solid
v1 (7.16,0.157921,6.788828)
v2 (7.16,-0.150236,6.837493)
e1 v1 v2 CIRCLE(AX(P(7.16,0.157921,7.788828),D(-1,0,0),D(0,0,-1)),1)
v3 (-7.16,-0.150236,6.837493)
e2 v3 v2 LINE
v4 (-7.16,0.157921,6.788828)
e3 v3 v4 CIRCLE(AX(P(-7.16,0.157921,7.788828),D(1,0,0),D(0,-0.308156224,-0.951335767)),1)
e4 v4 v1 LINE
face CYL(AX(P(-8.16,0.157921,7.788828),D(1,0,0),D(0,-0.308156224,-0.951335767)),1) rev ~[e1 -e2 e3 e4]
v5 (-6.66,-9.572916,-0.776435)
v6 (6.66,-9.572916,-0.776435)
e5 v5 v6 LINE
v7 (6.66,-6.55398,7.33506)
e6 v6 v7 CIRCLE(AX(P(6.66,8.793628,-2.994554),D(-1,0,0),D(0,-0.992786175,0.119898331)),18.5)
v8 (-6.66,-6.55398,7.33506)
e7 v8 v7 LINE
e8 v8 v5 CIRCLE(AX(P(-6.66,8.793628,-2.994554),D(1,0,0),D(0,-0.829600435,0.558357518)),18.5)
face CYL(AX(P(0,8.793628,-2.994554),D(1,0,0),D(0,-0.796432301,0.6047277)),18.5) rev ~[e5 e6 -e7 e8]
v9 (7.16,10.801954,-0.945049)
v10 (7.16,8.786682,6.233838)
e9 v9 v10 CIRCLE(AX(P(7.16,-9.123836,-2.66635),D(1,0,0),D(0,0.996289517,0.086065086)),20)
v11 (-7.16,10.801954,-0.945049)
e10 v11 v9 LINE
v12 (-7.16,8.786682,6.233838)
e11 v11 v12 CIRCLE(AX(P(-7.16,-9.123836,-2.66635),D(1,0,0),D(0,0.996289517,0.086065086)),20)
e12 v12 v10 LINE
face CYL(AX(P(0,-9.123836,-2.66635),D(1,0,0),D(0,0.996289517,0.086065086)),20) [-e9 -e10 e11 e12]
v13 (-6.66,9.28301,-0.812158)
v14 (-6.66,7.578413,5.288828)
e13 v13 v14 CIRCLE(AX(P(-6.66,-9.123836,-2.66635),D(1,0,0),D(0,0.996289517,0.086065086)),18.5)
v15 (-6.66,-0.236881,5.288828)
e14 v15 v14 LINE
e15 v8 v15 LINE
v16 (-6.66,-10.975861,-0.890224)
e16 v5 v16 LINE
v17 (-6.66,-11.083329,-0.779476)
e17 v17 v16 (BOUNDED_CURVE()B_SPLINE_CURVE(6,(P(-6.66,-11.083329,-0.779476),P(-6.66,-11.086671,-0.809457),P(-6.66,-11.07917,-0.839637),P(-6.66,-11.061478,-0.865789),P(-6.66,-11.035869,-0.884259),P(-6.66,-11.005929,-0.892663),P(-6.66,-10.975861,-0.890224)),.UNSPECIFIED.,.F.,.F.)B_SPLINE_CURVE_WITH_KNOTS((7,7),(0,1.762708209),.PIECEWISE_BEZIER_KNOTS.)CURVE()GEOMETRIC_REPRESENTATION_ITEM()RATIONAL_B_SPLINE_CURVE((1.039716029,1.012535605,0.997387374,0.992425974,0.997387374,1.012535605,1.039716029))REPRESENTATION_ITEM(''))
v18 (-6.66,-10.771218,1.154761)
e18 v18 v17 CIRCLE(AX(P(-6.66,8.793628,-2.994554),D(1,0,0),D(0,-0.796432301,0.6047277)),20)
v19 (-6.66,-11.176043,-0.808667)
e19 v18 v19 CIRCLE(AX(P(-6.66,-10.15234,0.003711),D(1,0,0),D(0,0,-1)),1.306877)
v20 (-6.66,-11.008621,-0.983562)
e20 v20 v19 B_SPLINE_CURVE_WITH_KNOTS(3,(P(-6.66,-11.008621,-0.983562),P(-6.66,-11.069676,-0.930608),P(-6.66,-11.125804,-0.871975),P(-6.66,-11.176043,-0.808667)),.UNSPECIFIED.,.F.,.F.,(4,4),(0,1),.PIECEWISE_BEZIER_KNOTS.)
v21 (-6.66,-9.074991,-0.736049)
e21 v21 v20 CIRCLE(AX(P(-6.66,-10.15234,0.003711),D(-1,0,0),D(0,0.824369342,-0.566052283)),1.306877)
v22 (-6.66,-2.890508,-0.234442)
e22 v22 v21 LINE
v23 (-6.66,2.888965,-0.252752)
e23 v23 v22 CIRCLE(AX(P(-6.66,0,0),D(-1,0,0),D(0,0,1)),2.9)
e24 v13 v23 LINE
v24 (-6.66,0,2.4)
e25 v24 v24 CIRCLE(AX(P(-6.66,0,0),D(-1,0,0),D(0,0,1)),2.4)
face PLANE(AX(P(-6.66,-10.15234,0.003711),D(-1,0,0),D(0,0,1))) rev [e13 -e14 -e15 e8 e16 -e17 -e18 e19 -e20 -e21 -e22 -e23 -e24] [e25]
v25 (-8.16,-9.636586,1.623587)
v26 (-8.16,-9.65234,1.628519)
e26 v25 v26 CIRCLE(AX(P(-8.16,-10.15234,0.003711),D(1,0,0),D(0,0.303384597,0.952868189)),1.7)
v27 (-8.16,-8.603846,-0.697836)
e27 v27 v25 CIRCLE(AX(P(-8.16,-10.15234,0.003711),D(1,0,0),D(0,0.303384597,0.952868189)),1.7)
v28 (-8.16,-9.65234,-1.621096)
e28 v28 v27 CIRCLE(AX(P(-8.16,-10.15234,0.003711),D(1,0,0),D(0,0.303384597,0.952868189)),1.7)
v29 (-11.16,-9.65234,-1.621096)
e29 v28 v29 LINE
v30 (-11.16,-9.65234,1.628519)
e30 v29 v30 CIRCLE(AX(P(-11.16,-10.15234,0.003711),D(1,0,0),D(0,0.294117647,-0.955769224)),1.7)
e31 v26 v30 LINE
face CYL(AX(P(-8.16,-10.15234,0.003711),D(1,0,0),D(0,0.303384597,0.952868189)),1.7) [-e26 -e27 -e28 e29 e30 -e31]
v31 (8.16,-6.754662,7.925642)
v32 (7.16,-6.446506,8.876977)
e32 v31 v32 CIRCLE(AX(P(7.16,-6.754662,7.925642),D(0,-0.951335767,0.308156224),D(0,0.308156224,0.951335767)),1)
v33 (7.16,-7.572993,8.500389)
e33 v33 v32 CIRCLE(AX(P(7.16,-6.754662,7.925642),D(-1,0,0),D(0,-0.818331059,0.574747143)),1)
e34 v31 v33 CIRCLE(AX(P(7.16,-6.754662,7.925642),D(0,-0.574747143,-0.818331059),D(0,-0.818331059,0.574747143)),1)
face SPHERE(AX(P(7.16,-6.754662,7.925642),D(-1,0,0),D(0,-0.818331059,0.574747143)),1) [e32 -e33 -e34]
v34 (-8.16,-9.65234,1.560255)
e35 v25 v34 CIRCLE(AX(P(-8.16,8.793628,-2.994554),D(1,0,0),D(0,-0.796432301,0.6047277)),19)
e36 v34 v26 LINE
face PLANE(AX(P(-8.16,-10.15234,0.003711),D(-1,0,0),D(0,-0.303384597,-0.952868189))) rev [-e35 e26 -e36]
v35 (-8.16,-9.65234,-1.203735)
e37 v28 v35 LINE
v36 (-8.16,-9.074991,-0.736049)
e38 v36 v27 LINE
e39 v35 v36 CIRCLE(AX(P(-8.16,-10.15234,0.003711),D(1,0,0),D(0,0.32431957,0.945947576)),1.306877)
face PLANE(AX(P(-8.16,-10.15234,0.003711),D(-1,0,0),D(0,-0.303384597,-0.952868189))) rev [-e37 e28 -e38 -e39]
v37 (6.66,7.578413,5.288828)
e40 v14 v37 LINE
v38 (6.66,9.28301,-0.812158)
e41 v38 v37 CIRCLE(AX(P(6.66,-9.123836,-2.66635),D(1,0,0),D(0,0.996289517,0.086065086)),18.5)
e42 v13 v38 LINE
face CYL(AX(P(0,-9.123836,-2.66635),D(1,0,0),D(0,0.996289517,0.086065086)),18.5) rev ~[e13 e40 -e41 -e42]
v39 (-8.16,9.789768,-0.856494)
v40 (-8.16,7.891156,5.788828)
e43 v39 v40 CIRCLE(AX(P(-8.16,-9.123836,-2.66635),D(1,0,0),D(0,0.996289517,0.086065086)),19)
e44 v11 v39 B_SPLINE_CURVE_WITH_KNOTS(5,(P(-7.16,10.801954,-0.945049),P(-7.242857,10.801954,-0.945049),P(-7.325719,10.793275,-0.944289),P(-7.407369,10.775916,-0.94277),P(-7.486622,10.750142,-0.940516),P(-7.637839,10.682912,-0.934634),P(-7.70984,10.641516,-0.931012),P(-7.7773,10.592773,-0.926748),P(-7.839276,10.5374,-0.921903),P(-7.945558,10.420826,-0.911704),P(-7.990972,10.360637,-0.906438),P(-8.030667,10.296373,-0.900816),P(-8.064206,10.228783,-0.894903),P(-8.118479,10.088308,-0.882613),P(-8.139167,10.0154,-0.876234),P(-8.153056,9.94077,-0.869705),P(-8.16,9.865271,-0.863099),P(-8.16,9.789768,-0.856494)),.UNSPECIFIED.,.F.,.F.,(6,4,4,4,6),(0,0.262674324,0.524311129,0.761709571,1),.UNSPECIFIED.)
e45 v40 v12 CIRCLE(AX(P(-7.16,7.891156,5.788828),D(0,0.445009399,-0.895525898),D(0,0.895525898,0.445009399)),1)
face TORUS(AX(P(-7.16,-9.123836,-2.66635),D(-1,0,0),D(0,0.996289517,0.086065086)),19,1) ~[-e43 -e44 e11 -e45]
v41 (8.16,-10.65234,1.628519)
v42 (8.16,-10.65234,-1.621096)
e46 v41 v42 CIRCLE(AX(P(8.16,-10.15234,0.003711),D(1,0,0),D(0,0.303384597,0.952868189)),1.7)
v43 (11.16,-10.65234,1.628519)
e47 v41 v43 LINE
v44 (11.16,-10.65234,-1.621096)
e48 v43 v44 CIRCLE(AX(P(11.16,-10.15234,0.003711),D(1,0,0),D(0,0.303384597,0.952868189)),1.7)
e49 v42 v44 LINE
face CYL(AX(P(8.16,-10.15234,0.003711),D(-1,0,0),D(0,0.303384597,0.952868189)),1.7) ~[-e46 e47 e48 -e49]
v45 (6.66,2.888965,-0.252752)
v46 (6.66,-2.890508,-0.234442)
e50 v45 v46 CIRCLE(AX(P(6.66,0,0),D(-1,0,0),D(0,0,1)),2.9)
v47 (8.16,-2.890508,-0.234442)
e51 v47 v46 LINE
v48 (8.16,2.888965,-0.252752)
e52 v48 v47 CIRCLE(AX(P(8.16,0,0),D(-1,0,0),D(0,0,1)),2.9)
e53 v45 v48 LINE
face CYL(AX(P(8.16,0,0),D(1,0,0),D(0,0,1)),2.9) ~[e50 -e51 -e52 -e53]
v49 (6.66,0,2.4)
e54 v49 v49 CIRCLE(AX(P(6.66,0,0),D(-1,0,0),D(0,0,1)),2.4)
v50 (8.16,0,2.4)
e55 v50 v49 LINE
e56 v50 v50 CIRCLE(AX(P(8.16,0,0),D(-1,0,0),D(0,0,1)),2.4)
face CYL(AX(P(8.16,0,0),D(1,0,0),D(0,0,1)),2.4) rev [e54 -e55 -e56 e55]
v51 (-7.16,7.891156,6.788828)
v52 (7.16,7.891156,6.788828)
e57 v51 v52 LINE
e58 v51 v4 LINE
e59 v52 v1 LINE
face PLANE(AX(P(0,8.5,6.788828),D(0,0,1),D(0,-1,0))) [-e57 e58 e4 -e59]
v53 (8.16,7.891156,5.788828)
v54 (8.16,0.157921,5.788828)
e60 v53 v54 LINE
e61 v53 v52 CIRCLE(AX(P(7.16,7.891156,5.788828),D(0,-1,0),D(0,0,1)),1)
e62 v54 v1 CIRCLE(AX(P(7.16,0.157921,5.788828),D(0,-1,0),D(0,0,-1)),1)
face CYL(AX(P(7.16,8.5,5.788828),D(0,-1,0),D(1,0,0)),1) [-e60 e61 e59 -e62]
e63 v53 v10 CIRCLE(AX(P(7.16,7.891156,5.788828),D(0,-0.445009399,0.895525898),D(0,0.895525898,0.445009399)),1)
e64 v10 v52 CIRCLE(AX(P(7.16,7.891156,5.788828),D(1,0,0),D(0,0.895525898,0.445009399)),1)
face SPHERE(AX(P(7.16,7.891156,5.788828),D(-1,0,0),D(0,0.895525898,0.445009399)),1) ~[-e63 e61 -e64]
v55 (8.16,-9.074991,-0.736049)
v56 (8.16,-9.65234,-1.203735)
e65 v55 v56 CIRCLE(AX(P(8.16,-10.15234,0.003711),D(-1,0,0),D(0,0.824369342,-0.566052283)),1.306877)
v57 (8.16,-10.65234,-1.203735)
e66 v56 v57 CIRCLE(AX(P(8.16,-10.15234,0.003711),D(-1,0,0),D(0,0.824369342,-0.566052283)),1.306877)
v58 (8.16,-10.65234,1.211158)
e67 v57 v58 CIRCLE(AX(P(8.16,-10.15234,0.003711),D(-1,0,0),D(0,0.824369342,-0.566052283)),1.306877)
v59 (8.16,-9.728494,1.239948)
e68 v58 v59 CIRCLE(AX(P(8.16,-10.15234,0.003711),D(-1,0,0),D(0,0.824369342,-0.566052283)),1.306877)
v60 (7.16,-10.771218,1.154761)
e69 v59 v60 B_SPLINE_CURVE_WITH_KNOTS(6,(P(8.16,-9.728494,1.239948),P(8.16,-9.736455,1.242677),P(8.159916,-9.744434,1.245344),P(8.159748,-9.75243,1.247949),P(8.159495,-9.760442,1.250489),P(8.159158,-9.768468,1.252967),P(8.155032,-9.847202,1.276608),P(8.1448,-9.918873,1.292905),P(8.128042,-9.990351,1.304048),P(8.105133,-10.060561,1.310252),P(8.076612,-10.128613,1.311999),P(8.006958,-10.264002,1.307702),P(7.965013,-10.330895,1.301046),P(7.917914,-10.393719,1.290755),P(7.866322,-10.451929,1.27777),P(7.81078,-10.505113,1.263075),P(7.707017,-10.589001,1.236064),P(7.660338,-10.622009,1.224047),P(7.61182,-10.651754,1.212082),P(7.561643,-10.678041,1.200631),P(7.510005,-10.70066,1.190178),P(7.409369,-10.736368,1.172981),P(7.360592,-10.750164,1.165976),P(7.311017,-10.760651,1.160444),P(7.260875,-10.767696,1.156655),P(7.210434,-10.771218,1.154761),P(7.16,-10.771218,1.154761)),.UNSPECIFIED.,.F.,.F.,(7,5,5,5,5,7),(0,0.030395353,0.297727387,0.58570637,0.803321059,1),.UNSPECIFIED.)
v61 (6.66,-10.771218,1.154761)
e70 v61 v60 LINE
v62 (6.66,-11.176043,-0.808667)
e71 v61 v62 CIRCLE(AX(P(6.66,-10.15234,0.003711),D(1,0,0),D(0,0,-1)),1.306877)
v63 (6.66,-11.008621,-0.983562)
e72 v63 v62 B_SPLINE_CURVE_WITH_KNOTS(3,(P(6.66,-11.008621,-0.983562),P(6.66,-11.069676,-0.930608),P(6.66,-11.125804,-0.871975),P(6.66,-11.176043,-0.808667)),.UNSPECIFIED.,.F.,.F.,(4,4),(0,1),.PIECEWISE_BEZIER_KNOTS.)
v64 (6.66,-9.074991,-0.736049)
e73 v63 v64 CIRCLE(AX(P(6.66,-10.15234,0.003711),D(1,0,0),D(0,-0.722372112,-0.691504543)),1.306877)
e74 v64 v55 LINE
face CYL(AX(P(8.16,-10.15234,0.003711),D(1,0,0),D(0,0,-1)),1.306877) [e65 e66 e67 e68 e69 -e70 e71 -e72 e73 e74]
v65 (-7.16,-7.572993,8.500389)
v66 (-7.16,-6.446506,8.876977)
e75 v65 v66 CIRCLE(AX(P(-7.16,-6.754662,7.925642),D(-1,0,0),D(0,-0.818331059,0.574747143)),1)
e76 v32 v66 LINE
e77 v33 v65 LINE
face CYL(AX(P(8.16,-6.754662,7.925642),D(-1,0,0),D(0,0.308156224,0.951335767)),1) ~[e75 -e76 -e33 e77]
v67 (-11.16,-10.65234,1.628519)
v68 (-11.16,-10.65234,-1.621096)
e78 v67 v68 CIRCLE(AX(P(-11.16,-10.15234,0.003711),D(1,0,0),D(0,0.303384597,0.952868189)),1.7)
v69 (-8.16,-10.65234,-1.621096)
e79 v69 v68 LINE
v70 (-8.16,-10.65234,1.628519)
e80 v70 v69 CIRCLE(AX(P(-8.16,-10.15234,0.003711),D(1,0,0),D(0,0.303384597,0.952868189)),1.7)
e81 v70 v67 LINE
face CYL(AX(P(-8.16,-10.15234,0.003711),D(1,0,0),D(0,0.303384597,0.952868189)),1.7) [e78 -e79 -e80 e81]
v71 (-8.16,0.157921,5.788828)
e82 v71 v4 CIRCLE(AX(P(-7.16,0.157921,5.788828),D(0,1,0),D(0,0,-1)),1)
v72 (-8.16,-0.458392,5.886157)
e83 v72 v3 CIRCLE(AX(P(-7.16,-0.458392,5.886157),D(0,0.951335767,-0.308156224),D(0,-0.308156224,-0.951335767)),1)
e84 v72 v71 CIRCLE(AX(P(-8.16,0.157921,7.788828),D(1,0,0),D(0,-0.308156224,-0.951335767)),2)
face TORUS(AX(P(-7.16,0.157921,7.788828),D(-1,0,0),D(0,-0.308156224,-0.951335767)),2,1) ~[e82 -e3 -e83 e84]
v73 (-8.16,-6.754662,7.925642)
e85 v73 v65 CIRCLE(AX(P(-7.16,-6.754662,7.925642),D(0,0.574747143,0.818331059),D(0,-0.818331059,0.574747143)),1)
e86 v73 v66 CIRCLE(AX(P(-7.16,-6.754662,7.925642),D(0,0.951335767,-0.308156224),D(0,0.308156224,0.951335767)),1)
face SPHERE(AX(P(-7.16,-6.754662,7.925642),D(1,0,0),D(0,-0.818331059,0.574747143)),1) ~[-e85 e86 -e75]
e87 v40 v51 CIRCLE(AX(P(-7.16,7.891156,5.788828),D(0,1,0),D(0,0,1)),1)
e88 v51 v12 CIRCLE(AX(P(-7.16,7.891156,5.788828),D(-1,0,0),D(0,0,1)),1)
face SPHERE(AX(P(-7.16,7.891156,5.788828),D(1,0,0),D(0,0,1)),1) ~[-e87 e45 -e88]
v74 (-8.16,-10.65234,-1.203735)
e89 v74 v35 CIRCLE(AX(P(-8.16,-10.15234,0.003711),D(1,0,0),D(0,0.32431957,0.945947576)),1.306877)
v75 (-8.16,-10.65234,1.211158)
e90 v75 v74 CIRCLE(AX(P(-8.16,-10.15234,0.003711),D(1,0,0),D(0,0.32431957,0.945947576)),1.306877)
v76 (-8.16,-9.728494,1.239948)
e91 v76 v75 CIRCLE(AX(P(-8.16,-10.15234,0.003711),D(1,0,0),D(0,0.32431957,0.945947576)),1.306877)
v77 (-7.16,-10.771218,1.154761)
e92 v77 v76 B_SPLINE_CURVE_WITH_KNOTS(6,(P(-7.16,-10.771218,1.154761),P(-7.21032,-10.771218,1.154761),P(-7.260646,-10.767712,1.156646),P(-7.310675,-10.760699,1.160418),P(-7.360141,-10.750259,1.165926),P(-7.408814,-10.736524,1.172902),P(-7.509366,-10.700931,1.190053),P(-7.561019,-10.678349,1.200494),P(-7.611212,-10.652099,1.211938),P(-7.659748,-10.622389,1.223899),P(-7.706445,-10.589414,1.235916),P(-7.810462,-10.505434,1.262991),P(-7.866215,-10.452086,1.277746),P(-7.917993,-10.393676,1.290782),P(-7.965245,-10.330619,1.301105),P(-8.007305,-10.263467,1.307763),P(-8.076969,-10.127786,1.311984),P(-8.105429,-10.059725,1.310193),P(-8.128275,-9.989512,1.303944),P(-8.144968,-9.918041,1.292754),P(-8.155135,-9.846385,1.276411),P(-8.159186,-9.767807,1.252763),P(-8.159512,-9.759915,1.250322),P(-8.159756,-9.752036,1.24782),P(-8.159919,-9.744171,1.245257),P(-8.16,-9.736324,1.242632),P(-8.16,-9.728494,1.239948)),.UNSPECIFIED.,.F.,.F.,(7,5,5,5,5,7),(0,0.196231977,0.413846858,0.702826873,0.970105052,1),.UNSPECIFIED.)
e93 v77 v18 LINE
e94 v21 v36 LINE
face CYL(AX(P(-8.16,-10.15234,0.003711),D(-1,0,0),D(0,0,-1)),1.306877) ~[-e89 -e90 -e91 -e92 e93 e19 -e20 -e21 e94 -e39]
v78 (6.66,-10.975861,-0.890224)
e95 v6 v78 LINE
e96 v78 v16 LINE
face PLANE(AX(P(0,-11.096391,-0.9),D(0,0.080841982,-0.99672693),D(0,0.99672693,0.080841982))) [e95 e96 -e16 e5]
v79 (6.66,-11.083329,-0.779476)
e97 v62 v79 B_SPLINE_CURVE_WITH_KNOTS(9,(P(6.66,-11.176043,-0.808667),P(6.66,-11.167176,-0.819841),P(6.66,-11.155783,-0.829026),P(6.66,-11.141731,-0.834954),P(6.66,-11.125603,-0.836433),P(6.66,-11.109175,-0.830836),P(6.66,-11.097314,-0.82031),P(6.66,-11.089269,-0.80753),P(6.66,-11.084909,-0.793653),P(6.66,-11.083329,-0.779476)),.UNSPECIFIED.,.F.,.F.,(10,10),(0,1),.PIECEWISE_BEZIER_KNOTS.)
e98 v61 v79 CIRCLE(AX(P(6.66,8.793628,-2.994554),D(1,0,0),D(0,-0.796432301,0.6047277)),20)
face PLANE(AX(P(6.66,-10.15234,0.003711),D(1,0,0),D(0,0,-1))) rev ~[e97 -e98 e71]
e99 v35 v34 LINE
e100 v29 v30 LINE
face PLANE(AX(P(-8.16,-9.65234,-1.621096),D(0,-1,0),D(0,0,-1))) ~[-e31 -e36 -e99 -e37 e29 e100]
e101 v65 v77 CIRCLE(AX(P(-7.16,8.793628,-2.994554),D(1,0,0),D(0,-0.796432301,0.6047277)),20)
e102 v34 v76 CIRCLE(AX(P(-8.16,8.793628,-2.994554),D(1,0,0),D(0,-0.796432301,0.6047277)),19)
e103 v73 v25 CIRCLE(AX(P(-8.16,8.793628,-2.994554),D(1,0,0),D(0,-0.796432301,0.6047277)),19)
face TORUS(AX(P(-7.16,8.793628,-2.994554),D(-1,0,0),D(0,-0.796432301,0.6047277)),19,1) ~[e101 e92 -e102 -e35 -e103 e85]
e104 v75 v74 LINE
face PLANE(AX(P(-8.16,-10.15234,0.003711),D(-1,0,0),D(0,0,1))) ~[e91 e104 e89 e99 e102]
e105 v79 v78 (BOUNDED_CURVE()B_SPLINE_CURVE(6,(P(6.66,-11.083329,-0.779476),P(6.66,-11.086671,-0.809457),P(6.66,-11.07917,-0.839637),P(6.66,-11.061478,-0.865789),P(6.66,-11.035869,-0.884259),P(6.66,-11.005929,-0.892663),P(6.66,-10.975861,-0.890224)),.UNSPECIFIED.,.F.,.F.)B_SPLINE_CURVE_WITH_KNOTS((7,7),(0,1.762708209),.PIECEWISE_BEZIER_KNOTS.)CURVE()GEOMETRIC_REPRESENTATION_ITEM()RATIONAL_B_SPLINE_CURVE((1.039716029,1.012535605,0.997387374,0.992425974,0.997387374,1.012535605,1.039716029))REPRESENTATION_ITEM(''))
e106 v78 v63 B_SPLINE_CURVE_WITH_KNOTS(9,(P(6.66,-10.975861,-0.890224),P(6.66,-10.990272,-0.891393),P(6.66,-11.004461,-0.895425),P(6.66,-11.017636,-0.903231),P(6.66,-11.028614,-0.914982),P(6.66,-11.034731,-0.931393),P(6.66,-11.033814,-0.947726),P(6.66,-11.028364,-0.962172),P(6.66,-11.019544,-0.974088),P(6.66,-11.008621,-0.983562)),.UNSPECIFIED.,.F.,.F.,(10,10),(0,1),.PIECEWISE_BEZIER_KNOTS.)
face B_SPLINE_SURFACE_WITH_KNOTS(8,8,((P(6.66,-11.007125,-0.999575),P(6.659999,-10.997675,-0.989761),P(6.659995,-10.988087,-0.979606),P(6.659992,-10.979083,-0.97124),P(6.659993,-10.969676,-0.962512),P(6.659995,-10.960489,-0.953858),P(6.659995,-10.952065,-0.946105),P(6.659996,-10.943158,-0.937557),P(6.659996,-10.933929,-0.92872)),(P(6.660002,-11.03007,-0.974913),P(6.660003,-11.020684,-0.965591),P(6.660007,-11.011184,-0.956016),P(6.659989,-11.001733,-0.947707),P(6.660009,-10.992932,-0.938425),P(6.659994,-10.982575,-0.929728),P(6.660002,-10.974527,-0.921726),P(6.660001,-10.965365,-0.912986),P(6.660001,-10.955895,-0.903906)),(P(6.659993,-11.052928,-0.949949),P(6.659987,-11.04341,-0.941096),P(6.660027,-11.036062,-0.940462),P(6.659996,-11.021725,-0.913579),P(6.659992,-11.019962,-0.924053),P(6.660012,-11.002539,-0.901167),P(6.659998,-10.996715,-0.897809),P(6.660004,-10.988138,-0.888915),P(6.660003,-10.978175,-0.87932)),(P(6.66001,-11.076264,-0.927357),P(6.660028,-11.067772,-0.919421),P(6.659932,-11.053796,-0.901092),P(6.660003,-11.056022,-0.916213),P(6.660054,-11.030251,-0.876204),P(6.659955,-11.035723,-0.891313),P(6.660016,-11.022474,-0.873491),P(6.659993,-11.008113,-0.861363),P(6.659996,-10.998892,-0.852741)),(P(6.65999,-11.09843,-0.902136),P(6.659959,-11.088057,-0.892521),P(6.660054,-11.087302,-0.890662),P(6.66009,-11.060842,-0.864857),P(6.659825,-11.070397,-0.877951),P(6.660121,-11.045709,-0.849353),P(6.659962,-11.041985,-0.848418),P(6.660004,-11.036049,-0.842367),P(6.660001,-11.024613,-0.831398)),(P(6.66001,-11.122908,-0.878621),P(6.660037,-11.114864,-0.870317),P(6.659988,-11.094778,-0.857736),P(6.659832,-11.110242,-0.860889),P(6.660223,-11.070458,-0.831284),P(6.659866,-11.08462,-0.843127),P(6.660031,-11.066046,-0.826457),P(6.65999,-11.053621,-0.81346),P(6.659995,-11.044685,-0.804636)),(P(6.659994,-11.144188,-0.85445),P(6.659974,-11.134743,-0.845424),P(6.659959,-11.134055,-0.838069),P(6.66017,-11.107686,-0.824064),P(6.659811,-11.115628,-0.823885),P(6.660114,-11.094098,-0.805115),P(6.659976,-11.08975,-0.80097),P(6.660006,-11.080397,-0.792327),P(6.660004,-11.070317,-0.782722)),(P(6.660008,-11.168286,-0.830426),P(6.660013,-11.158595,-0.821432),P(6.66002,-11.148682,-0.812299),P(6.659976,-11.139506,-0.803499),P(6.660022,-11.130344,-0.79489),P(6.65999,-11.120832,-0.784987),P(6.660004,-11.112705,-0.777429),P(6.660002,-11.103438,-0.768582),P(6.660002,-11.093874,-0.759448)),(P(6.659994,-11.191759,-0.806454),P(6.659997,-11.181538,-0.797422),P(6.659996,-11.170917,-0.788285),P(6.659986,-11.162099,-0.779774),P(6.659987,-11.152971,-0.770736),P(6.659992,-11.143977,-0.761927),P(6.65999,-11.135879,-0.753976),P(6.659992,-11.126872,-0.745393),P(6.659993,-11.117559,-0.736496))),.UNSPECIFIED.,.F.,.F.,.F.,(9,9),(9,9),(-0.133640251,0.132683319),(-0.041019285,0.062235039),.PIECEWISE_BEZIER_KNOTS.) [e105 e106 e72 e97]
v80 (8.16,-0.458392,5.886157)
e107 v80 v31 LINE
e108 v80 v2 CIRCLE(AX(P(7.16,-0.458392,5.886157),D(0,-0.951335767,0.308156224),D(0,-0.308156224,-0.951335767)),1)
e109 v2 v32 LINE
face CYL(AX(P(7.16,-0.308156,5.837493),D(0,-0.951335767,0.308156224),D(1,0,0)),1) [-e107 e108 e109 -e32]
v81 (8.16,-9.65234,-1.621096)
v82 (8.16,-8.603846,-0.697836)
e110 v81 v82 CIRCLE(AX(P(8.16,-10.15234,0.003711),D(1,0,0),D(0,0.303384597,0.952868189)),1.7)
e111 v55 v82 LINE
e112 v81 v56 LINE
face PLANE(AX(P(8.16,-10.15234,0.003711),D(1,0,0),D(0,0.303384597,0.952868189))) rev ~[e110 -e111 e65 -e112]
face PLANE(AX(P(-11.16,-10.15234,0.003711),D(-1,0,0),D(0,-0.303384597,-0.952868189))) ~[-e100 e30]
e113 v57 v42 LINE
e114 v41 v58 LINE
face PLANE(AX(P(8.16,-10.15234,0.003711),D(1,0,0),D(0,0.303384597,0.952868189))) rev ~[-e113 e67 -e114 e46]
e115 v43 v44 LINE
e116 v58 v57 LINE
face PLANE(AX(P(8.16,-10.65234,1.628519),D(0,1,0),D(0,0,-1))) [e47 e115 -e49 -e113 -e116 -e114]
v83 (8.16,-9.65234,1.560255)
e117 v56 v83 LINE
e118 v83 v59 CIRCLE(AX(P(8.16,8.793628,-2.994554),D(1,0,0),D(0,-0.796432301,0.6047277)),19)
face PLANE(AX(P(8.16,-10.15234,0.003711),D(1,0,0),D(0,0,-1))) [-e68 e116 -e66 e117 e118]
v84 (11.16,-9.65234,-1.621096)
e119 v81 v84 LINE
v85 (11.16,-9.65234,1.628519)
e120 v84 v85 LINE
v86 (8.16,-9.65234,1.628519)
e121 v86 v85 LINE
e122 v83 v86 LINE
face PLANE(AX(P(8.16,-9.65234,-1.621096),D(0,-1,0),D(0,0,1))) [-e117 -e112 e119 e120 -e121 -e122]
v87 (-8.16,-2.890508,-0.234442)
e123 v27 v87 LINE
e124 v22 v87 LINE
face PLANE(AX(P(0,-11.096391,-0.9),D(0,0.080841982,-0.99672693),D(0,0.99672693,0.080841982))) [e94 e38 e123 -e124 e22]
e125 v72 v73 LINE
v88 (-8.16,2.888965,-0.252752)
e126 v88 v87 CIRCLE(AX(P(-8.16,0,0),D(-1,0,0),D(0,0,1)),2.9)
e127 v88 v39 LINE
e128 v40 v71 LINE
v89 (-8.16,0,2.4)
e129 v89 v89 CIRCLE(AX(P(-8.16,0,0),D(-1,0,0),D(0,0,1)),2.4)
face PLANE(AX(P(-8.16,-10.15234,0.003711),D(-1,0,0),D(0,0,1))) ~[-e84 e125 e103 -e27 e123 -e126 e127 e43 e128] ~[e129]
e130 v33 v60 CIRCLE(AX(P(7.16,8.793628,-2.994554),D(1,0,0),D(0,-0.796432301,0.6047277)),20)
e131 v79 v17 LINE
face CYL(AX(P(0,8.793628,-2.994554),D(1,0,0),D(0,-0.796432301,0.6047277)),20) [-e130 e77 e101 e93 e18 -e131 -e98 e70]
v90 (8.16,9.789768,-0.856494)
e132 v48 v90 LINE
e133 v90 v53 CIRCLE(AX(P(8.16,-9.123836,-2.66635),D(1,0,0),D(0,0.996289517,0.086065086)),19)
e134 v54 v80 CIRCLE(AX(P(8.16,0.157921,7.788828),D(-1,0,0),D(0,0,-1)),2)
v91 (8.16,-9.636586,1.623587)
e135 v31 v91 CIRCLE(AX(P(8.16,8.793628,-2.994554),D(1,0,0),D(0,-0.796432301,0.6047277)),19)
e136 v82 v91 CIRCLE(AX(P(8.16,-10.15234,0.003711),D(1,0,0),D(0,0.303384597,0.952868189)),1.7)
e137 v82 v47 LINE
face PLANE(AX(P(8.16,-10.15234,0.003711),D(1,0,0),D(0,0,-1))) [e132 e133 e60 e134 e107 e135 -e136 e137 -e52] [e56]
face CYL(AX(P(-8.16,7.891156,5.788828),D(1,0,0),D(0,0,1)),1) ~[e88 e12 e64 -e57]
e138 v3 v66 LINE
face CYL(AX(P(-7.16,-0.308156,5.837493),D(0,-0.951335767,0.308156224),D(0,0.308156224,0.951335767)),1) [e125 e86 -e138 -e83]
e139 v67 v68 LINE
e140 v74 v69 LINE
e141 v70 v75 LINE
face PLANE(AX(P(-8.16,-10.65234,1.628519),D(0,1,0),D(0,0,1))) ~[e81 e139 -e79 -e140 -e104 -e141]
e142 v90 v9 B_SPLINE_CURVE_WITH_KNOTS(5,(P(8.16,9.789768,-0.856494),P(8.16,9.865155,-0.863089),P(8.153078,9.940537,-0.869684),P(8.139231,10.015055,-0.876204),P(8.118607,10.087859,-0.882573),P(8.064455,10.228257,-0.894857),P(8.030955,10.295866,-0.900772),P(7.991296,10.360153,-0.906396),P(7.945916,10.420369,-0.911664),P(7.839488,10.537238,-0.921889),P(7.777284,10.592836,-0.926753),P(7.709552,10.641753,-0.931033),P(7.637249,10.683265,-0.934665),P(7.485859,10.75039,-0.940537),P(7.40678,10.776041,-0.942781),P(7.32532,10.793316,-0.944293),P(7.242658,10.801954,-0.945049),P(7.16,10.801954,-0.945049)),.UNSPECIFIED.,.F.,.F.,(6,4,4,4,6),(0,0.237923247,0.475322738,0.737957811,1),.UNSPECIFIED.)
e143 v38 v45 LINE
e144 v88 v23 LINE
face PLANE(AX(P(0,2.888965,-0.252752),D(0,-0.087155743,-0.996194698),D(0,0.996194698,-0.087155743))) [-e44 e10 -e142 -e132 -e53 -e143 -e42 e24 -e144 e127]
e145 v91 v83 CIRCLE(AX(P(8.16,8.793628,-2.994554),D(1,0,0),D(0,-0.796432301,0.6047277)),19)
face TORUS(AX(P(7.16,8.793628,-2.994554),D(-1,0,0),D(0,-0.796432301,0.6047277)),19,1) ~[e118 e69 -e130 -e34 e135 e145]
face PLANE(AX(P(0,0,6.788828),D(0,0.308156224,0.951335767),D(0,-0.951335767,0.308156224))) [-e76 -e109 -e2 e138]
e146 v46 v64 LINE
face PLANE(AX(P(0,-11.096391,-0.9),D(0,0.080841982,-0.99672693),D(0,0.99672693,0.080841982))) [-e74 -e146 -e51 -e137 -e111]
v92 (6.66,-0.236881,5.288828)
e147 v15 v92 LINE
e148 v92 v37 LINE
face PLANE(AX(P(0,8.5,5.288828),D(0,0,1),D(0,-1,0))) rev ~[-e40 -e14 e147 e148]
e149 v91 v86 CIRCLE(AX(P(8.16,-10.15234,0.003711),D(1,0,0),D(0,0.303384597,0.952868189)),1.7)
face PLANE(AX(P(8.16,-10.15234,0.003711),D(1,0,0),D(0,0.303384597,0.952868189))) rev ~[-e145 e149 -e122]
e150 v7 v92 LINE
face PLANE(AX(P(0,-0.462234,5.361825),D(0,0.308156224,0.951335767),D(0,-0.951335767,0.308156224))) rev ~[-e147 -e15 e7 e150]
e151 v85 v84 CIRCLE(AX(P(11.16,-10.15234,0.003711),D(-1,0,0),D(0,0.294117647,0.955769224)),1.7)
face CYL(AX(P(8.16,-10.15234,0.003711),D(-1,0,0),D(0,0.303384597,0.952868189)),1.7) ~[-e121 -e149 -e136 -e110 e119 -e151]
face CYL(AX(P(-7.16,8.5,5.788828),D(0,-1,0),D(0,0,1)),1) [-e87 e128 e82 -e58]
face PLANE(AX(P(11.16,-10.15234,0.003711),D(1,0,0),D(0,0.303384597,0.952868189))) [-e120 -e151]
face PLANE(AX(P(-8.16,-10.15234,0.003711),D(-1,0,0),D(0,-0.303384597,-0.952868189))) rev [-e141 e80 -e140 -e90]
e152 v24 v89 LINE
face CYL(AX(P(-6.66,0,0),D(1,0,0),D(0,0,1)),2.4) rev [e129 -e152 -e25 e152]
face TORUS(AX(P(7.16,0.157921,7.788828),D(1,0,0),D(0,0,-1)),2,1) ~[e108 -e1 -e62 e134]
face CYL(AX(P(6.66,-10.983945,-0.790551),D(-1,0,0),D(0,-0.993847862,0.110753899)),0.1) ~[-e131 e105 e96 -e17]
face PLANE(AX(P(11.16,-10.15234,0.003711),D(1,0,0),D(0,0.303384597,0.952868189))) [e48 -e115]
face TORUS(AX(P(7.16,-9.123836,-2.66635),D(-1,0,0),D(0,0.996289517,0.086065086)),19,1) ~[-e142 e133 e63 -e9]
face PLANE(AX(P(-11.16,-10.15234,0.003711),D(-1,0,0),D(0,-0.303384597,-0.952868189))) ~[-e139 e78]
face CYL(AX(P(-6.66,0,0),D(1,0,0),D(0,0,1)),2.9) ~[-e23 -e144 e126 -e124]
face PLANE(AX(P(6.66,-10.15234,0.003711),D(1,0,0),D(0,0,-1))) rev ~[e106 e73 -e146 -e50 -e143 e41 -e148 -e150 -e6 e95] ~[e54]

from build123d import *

# Parameters (mm, degrees)
Y_KSEKLIK_EKSTR_ZYON1_DEPTH = 8.16
BO_ALTMA1_T                 = -1.5
Y_KSEKLIK_EKSTR_ZYON6_START = -1.5
IZIM3_R                     = 2.9
IZIM3_R_2                   = 2.4
Y_KSEKLIK_EKSTR_ZYON6_DEPTH = 1.5
Y_KSEKLIK_EKSTR_ZYON8_START = -1.5
IZIM14_R                    = 2.9
IZIM14_R_2                  = 2.4
Y_KSEKLIK_EKSTR_ZYON8_DEPTH = 1.5
IZIM4_R                     = 1.306876714
Y_KSEKLIK_EKSTR_ZYON7_DEPTH = 1.5
RADYUS1_R                   = 1
IZIM15_R                    = 1.7
Y_KSEKLIK_EKSTR_ZYON9_DEPTH = 3
KES_EKSTR_ZYON1_START       = -3
KES_EKSTR_ZYON1_DEPTH       = 3
RADYUS2_R                   = 0.1


with BuildPart() as part:
    # Çizim1 → Yükseklik-Ekstrüzyon1 (new, symmetric)
    with BuildSketch(Plane(origin=(0, 0, 0), x_dir=(0, 0, -1), z_dir=(1, 0, 0))):
        with BuildLine():
            ThreePointArc((0.234441748, -2.890508098), (-2.899985447, 0.009187423), (0.252751654, 2.888964624))
            Line((0.252751654, 2.888964624), (0.945048542, 10.801954259))
            ThreePointArc((0.945048542, 10.801954259), (-3.03918883, 10.045066442), (-6.788828319, 8.5))
            Line((-6.788828319, 8.5), (-6.788828319, 0))
            Line((-6.788828319, 0), (-9.1, -7.135018252))
            ThreePointArc((-9.1, -7.135018252), (-4.371300658, -9.800569865), (0.9, -11.096390933))
            Line((0.9, -11.096390933), (0.234441748, -2.890508098))
        make_face()
    extrude(amount=Y_KSEKLIK_EKSTR_ZYON1_DEPTH, both=True)

    # İç Boşaltma1
    bo_altma1_openings = [part.faces().sort_by_distance(p)[0] for p in [
        (0, 6.845459442, -0.598900098),
        (0, 0.009187423, 2.899985447),
        (0, -6.993449516, -0.567220874),
    ]]
    offset(amount=BO_ALTMA1_T, openings=bo_altma1_openings, kind=Kind.INTERSECTION)

    # Çizim3 → Yükseklik-Ekstrüzyon6 (add)
    with BuildSketch(Plane.ZY.offset(-6.66).offset(Y_KSEKLIK_EKSTR_ZYON6_START)):
        Circle(IZIM3_R)
        Circle(IZIM3_R_2, mode=Mode.SUBTRACT)
    extrude(amount=Y_KSEKLIK_EKSTR_ZYON6_DEPTH)

    # Çizim14 → Yükseklik-Ekstrüzyon8 (add)
    with BuildSketch(Plane.ZY.offset(8.16).offset(Y_KSEKLIK_EKSTR_ZYON8_START)):
        Circle(IZIM14_R)
        Circle(IZIM14_R_2, mode=Mode.SUBTRACT)
    extrude(amount=Y_KSEKLIK_EKSTR_ZYON8_DEPTH)

    # Çizim4 → Yükseklik-Ekstrüzyon7 (add)
    with BuildSketch(Plane(origin=(8.16, 0, 0), x_dir=(0, 0, -1), z_dir=(1, 0, 0))):
        with Locations((-0.003711184, -10.152339642)):
            Circle(IZIM4_R)
    y_kseklik_ekstr_zyon7 = extrude(amount=-Y_KSEKLIK_EKSTR_ZYON7_DEPTH)

    # Aynalama2: Yükseklik-Ekstrüzyon7 across plane
    add(y_kseklik_ekstr_zyon7.mirror(Plane(origin=(0, 0, 0), x_dir=(0, 0, 1), z_dir=(1, 0, 0))))

    # Radyus1
    radyus1_edges = [part.edges().sort_by_distance(p)[0] for p in [
        (-8.16, -3.567509126, 7.94441416),
        (-8.16, 4.25, 6.788828319),
        (-8.16, 10.045066442, 3.03918883),
        (8.16, -3.567509126, 7.94441416),
        (0, -7.135018252, 9.1),
        (0, 0, 6.788828319),
        (0, 8.5, 6.788828319),
        (8.16, -9.392319843, 5.328384781),
        (8.16, 10.045066442, 3.03918883),
        (8.16, 4.25, 6.788828319),
        (-8.16, -9.392319843, 5.328384781),
    ]]
    fillet(radyus1_edges, radius=RADYUS1_R)

    # Çizim15 → Yükseklik-Ekstrüzyon9 (add)
    with BuildSketch(Plane(origin=(8.16, 0, 0), x_dir=(0, 0, -1), z_dir=(1, 0, 0))):
        with Locations(Location((-0.003711184, -10.152339642, 0), (0, 0, 162.33899623))):
            Circle(IZIM15_R)
    y_kseklik_ekstr_zyon9 = extrude(amount=Y_KSEKLIK_EKSTR_ZYON9_DEPTH)

    # Çizim16 → Kes-Ekstrüzyon1 (cut)
    with BuildSketch(Plane(origin=(11.16, 0, 0), x_dir=(0, 0, -1), z_dir=(1, 0, 0)).offset(KES_EKSTR_ZYON1_START)):
        with BuildLine():
            Line((1.621096497, -9.652339642), (-1.628518865, -9.652339642))
            ThreePointArc((-1.628518865, -9.652339642), (-1.703711184, -10.152339642), (-1.628518865, -10.652339642))
            Line((-1.628518865, -10.652339642), (1.621096497, -10.652339642))
            ThreePointArc((1.621096497, -10.652339642), (1.696288816, -10.152339642), (1.621096497, -9.652339642))
        make_face()
    kes_ekstr_zyon1 = extrude(amount=KES_EKSTR_ZYON1_DEPTH, mode=Mode.SUBTRACT)

    # Aynalama4: Yükseklik-Ekstrüzyon9, Kes-Ekstrüzyon1 across plane
    add(y_kseklik_ekstr_zyon9.mirror(Plane(origin=(0, 0, 0), x_dir=(0, 0, 1), z_dir=(1, 0, 0))))
    add(kes_ekstr_zyon1.mirror(Plane(origin=(0, 0, 0), x_dir=(0, 0, 1), z_dir=(1, 0, 0))), mode=Mode.SUBTRACT)

    # Radyus2
    radyus2_edges = [part.edges().sort_by_distance(p)[0] for p in [
        (0, -11.096390933, -0.9),
    ]]
    fillet(radyus2_edges, radius=RADYUS2_R)


solid = part.part
